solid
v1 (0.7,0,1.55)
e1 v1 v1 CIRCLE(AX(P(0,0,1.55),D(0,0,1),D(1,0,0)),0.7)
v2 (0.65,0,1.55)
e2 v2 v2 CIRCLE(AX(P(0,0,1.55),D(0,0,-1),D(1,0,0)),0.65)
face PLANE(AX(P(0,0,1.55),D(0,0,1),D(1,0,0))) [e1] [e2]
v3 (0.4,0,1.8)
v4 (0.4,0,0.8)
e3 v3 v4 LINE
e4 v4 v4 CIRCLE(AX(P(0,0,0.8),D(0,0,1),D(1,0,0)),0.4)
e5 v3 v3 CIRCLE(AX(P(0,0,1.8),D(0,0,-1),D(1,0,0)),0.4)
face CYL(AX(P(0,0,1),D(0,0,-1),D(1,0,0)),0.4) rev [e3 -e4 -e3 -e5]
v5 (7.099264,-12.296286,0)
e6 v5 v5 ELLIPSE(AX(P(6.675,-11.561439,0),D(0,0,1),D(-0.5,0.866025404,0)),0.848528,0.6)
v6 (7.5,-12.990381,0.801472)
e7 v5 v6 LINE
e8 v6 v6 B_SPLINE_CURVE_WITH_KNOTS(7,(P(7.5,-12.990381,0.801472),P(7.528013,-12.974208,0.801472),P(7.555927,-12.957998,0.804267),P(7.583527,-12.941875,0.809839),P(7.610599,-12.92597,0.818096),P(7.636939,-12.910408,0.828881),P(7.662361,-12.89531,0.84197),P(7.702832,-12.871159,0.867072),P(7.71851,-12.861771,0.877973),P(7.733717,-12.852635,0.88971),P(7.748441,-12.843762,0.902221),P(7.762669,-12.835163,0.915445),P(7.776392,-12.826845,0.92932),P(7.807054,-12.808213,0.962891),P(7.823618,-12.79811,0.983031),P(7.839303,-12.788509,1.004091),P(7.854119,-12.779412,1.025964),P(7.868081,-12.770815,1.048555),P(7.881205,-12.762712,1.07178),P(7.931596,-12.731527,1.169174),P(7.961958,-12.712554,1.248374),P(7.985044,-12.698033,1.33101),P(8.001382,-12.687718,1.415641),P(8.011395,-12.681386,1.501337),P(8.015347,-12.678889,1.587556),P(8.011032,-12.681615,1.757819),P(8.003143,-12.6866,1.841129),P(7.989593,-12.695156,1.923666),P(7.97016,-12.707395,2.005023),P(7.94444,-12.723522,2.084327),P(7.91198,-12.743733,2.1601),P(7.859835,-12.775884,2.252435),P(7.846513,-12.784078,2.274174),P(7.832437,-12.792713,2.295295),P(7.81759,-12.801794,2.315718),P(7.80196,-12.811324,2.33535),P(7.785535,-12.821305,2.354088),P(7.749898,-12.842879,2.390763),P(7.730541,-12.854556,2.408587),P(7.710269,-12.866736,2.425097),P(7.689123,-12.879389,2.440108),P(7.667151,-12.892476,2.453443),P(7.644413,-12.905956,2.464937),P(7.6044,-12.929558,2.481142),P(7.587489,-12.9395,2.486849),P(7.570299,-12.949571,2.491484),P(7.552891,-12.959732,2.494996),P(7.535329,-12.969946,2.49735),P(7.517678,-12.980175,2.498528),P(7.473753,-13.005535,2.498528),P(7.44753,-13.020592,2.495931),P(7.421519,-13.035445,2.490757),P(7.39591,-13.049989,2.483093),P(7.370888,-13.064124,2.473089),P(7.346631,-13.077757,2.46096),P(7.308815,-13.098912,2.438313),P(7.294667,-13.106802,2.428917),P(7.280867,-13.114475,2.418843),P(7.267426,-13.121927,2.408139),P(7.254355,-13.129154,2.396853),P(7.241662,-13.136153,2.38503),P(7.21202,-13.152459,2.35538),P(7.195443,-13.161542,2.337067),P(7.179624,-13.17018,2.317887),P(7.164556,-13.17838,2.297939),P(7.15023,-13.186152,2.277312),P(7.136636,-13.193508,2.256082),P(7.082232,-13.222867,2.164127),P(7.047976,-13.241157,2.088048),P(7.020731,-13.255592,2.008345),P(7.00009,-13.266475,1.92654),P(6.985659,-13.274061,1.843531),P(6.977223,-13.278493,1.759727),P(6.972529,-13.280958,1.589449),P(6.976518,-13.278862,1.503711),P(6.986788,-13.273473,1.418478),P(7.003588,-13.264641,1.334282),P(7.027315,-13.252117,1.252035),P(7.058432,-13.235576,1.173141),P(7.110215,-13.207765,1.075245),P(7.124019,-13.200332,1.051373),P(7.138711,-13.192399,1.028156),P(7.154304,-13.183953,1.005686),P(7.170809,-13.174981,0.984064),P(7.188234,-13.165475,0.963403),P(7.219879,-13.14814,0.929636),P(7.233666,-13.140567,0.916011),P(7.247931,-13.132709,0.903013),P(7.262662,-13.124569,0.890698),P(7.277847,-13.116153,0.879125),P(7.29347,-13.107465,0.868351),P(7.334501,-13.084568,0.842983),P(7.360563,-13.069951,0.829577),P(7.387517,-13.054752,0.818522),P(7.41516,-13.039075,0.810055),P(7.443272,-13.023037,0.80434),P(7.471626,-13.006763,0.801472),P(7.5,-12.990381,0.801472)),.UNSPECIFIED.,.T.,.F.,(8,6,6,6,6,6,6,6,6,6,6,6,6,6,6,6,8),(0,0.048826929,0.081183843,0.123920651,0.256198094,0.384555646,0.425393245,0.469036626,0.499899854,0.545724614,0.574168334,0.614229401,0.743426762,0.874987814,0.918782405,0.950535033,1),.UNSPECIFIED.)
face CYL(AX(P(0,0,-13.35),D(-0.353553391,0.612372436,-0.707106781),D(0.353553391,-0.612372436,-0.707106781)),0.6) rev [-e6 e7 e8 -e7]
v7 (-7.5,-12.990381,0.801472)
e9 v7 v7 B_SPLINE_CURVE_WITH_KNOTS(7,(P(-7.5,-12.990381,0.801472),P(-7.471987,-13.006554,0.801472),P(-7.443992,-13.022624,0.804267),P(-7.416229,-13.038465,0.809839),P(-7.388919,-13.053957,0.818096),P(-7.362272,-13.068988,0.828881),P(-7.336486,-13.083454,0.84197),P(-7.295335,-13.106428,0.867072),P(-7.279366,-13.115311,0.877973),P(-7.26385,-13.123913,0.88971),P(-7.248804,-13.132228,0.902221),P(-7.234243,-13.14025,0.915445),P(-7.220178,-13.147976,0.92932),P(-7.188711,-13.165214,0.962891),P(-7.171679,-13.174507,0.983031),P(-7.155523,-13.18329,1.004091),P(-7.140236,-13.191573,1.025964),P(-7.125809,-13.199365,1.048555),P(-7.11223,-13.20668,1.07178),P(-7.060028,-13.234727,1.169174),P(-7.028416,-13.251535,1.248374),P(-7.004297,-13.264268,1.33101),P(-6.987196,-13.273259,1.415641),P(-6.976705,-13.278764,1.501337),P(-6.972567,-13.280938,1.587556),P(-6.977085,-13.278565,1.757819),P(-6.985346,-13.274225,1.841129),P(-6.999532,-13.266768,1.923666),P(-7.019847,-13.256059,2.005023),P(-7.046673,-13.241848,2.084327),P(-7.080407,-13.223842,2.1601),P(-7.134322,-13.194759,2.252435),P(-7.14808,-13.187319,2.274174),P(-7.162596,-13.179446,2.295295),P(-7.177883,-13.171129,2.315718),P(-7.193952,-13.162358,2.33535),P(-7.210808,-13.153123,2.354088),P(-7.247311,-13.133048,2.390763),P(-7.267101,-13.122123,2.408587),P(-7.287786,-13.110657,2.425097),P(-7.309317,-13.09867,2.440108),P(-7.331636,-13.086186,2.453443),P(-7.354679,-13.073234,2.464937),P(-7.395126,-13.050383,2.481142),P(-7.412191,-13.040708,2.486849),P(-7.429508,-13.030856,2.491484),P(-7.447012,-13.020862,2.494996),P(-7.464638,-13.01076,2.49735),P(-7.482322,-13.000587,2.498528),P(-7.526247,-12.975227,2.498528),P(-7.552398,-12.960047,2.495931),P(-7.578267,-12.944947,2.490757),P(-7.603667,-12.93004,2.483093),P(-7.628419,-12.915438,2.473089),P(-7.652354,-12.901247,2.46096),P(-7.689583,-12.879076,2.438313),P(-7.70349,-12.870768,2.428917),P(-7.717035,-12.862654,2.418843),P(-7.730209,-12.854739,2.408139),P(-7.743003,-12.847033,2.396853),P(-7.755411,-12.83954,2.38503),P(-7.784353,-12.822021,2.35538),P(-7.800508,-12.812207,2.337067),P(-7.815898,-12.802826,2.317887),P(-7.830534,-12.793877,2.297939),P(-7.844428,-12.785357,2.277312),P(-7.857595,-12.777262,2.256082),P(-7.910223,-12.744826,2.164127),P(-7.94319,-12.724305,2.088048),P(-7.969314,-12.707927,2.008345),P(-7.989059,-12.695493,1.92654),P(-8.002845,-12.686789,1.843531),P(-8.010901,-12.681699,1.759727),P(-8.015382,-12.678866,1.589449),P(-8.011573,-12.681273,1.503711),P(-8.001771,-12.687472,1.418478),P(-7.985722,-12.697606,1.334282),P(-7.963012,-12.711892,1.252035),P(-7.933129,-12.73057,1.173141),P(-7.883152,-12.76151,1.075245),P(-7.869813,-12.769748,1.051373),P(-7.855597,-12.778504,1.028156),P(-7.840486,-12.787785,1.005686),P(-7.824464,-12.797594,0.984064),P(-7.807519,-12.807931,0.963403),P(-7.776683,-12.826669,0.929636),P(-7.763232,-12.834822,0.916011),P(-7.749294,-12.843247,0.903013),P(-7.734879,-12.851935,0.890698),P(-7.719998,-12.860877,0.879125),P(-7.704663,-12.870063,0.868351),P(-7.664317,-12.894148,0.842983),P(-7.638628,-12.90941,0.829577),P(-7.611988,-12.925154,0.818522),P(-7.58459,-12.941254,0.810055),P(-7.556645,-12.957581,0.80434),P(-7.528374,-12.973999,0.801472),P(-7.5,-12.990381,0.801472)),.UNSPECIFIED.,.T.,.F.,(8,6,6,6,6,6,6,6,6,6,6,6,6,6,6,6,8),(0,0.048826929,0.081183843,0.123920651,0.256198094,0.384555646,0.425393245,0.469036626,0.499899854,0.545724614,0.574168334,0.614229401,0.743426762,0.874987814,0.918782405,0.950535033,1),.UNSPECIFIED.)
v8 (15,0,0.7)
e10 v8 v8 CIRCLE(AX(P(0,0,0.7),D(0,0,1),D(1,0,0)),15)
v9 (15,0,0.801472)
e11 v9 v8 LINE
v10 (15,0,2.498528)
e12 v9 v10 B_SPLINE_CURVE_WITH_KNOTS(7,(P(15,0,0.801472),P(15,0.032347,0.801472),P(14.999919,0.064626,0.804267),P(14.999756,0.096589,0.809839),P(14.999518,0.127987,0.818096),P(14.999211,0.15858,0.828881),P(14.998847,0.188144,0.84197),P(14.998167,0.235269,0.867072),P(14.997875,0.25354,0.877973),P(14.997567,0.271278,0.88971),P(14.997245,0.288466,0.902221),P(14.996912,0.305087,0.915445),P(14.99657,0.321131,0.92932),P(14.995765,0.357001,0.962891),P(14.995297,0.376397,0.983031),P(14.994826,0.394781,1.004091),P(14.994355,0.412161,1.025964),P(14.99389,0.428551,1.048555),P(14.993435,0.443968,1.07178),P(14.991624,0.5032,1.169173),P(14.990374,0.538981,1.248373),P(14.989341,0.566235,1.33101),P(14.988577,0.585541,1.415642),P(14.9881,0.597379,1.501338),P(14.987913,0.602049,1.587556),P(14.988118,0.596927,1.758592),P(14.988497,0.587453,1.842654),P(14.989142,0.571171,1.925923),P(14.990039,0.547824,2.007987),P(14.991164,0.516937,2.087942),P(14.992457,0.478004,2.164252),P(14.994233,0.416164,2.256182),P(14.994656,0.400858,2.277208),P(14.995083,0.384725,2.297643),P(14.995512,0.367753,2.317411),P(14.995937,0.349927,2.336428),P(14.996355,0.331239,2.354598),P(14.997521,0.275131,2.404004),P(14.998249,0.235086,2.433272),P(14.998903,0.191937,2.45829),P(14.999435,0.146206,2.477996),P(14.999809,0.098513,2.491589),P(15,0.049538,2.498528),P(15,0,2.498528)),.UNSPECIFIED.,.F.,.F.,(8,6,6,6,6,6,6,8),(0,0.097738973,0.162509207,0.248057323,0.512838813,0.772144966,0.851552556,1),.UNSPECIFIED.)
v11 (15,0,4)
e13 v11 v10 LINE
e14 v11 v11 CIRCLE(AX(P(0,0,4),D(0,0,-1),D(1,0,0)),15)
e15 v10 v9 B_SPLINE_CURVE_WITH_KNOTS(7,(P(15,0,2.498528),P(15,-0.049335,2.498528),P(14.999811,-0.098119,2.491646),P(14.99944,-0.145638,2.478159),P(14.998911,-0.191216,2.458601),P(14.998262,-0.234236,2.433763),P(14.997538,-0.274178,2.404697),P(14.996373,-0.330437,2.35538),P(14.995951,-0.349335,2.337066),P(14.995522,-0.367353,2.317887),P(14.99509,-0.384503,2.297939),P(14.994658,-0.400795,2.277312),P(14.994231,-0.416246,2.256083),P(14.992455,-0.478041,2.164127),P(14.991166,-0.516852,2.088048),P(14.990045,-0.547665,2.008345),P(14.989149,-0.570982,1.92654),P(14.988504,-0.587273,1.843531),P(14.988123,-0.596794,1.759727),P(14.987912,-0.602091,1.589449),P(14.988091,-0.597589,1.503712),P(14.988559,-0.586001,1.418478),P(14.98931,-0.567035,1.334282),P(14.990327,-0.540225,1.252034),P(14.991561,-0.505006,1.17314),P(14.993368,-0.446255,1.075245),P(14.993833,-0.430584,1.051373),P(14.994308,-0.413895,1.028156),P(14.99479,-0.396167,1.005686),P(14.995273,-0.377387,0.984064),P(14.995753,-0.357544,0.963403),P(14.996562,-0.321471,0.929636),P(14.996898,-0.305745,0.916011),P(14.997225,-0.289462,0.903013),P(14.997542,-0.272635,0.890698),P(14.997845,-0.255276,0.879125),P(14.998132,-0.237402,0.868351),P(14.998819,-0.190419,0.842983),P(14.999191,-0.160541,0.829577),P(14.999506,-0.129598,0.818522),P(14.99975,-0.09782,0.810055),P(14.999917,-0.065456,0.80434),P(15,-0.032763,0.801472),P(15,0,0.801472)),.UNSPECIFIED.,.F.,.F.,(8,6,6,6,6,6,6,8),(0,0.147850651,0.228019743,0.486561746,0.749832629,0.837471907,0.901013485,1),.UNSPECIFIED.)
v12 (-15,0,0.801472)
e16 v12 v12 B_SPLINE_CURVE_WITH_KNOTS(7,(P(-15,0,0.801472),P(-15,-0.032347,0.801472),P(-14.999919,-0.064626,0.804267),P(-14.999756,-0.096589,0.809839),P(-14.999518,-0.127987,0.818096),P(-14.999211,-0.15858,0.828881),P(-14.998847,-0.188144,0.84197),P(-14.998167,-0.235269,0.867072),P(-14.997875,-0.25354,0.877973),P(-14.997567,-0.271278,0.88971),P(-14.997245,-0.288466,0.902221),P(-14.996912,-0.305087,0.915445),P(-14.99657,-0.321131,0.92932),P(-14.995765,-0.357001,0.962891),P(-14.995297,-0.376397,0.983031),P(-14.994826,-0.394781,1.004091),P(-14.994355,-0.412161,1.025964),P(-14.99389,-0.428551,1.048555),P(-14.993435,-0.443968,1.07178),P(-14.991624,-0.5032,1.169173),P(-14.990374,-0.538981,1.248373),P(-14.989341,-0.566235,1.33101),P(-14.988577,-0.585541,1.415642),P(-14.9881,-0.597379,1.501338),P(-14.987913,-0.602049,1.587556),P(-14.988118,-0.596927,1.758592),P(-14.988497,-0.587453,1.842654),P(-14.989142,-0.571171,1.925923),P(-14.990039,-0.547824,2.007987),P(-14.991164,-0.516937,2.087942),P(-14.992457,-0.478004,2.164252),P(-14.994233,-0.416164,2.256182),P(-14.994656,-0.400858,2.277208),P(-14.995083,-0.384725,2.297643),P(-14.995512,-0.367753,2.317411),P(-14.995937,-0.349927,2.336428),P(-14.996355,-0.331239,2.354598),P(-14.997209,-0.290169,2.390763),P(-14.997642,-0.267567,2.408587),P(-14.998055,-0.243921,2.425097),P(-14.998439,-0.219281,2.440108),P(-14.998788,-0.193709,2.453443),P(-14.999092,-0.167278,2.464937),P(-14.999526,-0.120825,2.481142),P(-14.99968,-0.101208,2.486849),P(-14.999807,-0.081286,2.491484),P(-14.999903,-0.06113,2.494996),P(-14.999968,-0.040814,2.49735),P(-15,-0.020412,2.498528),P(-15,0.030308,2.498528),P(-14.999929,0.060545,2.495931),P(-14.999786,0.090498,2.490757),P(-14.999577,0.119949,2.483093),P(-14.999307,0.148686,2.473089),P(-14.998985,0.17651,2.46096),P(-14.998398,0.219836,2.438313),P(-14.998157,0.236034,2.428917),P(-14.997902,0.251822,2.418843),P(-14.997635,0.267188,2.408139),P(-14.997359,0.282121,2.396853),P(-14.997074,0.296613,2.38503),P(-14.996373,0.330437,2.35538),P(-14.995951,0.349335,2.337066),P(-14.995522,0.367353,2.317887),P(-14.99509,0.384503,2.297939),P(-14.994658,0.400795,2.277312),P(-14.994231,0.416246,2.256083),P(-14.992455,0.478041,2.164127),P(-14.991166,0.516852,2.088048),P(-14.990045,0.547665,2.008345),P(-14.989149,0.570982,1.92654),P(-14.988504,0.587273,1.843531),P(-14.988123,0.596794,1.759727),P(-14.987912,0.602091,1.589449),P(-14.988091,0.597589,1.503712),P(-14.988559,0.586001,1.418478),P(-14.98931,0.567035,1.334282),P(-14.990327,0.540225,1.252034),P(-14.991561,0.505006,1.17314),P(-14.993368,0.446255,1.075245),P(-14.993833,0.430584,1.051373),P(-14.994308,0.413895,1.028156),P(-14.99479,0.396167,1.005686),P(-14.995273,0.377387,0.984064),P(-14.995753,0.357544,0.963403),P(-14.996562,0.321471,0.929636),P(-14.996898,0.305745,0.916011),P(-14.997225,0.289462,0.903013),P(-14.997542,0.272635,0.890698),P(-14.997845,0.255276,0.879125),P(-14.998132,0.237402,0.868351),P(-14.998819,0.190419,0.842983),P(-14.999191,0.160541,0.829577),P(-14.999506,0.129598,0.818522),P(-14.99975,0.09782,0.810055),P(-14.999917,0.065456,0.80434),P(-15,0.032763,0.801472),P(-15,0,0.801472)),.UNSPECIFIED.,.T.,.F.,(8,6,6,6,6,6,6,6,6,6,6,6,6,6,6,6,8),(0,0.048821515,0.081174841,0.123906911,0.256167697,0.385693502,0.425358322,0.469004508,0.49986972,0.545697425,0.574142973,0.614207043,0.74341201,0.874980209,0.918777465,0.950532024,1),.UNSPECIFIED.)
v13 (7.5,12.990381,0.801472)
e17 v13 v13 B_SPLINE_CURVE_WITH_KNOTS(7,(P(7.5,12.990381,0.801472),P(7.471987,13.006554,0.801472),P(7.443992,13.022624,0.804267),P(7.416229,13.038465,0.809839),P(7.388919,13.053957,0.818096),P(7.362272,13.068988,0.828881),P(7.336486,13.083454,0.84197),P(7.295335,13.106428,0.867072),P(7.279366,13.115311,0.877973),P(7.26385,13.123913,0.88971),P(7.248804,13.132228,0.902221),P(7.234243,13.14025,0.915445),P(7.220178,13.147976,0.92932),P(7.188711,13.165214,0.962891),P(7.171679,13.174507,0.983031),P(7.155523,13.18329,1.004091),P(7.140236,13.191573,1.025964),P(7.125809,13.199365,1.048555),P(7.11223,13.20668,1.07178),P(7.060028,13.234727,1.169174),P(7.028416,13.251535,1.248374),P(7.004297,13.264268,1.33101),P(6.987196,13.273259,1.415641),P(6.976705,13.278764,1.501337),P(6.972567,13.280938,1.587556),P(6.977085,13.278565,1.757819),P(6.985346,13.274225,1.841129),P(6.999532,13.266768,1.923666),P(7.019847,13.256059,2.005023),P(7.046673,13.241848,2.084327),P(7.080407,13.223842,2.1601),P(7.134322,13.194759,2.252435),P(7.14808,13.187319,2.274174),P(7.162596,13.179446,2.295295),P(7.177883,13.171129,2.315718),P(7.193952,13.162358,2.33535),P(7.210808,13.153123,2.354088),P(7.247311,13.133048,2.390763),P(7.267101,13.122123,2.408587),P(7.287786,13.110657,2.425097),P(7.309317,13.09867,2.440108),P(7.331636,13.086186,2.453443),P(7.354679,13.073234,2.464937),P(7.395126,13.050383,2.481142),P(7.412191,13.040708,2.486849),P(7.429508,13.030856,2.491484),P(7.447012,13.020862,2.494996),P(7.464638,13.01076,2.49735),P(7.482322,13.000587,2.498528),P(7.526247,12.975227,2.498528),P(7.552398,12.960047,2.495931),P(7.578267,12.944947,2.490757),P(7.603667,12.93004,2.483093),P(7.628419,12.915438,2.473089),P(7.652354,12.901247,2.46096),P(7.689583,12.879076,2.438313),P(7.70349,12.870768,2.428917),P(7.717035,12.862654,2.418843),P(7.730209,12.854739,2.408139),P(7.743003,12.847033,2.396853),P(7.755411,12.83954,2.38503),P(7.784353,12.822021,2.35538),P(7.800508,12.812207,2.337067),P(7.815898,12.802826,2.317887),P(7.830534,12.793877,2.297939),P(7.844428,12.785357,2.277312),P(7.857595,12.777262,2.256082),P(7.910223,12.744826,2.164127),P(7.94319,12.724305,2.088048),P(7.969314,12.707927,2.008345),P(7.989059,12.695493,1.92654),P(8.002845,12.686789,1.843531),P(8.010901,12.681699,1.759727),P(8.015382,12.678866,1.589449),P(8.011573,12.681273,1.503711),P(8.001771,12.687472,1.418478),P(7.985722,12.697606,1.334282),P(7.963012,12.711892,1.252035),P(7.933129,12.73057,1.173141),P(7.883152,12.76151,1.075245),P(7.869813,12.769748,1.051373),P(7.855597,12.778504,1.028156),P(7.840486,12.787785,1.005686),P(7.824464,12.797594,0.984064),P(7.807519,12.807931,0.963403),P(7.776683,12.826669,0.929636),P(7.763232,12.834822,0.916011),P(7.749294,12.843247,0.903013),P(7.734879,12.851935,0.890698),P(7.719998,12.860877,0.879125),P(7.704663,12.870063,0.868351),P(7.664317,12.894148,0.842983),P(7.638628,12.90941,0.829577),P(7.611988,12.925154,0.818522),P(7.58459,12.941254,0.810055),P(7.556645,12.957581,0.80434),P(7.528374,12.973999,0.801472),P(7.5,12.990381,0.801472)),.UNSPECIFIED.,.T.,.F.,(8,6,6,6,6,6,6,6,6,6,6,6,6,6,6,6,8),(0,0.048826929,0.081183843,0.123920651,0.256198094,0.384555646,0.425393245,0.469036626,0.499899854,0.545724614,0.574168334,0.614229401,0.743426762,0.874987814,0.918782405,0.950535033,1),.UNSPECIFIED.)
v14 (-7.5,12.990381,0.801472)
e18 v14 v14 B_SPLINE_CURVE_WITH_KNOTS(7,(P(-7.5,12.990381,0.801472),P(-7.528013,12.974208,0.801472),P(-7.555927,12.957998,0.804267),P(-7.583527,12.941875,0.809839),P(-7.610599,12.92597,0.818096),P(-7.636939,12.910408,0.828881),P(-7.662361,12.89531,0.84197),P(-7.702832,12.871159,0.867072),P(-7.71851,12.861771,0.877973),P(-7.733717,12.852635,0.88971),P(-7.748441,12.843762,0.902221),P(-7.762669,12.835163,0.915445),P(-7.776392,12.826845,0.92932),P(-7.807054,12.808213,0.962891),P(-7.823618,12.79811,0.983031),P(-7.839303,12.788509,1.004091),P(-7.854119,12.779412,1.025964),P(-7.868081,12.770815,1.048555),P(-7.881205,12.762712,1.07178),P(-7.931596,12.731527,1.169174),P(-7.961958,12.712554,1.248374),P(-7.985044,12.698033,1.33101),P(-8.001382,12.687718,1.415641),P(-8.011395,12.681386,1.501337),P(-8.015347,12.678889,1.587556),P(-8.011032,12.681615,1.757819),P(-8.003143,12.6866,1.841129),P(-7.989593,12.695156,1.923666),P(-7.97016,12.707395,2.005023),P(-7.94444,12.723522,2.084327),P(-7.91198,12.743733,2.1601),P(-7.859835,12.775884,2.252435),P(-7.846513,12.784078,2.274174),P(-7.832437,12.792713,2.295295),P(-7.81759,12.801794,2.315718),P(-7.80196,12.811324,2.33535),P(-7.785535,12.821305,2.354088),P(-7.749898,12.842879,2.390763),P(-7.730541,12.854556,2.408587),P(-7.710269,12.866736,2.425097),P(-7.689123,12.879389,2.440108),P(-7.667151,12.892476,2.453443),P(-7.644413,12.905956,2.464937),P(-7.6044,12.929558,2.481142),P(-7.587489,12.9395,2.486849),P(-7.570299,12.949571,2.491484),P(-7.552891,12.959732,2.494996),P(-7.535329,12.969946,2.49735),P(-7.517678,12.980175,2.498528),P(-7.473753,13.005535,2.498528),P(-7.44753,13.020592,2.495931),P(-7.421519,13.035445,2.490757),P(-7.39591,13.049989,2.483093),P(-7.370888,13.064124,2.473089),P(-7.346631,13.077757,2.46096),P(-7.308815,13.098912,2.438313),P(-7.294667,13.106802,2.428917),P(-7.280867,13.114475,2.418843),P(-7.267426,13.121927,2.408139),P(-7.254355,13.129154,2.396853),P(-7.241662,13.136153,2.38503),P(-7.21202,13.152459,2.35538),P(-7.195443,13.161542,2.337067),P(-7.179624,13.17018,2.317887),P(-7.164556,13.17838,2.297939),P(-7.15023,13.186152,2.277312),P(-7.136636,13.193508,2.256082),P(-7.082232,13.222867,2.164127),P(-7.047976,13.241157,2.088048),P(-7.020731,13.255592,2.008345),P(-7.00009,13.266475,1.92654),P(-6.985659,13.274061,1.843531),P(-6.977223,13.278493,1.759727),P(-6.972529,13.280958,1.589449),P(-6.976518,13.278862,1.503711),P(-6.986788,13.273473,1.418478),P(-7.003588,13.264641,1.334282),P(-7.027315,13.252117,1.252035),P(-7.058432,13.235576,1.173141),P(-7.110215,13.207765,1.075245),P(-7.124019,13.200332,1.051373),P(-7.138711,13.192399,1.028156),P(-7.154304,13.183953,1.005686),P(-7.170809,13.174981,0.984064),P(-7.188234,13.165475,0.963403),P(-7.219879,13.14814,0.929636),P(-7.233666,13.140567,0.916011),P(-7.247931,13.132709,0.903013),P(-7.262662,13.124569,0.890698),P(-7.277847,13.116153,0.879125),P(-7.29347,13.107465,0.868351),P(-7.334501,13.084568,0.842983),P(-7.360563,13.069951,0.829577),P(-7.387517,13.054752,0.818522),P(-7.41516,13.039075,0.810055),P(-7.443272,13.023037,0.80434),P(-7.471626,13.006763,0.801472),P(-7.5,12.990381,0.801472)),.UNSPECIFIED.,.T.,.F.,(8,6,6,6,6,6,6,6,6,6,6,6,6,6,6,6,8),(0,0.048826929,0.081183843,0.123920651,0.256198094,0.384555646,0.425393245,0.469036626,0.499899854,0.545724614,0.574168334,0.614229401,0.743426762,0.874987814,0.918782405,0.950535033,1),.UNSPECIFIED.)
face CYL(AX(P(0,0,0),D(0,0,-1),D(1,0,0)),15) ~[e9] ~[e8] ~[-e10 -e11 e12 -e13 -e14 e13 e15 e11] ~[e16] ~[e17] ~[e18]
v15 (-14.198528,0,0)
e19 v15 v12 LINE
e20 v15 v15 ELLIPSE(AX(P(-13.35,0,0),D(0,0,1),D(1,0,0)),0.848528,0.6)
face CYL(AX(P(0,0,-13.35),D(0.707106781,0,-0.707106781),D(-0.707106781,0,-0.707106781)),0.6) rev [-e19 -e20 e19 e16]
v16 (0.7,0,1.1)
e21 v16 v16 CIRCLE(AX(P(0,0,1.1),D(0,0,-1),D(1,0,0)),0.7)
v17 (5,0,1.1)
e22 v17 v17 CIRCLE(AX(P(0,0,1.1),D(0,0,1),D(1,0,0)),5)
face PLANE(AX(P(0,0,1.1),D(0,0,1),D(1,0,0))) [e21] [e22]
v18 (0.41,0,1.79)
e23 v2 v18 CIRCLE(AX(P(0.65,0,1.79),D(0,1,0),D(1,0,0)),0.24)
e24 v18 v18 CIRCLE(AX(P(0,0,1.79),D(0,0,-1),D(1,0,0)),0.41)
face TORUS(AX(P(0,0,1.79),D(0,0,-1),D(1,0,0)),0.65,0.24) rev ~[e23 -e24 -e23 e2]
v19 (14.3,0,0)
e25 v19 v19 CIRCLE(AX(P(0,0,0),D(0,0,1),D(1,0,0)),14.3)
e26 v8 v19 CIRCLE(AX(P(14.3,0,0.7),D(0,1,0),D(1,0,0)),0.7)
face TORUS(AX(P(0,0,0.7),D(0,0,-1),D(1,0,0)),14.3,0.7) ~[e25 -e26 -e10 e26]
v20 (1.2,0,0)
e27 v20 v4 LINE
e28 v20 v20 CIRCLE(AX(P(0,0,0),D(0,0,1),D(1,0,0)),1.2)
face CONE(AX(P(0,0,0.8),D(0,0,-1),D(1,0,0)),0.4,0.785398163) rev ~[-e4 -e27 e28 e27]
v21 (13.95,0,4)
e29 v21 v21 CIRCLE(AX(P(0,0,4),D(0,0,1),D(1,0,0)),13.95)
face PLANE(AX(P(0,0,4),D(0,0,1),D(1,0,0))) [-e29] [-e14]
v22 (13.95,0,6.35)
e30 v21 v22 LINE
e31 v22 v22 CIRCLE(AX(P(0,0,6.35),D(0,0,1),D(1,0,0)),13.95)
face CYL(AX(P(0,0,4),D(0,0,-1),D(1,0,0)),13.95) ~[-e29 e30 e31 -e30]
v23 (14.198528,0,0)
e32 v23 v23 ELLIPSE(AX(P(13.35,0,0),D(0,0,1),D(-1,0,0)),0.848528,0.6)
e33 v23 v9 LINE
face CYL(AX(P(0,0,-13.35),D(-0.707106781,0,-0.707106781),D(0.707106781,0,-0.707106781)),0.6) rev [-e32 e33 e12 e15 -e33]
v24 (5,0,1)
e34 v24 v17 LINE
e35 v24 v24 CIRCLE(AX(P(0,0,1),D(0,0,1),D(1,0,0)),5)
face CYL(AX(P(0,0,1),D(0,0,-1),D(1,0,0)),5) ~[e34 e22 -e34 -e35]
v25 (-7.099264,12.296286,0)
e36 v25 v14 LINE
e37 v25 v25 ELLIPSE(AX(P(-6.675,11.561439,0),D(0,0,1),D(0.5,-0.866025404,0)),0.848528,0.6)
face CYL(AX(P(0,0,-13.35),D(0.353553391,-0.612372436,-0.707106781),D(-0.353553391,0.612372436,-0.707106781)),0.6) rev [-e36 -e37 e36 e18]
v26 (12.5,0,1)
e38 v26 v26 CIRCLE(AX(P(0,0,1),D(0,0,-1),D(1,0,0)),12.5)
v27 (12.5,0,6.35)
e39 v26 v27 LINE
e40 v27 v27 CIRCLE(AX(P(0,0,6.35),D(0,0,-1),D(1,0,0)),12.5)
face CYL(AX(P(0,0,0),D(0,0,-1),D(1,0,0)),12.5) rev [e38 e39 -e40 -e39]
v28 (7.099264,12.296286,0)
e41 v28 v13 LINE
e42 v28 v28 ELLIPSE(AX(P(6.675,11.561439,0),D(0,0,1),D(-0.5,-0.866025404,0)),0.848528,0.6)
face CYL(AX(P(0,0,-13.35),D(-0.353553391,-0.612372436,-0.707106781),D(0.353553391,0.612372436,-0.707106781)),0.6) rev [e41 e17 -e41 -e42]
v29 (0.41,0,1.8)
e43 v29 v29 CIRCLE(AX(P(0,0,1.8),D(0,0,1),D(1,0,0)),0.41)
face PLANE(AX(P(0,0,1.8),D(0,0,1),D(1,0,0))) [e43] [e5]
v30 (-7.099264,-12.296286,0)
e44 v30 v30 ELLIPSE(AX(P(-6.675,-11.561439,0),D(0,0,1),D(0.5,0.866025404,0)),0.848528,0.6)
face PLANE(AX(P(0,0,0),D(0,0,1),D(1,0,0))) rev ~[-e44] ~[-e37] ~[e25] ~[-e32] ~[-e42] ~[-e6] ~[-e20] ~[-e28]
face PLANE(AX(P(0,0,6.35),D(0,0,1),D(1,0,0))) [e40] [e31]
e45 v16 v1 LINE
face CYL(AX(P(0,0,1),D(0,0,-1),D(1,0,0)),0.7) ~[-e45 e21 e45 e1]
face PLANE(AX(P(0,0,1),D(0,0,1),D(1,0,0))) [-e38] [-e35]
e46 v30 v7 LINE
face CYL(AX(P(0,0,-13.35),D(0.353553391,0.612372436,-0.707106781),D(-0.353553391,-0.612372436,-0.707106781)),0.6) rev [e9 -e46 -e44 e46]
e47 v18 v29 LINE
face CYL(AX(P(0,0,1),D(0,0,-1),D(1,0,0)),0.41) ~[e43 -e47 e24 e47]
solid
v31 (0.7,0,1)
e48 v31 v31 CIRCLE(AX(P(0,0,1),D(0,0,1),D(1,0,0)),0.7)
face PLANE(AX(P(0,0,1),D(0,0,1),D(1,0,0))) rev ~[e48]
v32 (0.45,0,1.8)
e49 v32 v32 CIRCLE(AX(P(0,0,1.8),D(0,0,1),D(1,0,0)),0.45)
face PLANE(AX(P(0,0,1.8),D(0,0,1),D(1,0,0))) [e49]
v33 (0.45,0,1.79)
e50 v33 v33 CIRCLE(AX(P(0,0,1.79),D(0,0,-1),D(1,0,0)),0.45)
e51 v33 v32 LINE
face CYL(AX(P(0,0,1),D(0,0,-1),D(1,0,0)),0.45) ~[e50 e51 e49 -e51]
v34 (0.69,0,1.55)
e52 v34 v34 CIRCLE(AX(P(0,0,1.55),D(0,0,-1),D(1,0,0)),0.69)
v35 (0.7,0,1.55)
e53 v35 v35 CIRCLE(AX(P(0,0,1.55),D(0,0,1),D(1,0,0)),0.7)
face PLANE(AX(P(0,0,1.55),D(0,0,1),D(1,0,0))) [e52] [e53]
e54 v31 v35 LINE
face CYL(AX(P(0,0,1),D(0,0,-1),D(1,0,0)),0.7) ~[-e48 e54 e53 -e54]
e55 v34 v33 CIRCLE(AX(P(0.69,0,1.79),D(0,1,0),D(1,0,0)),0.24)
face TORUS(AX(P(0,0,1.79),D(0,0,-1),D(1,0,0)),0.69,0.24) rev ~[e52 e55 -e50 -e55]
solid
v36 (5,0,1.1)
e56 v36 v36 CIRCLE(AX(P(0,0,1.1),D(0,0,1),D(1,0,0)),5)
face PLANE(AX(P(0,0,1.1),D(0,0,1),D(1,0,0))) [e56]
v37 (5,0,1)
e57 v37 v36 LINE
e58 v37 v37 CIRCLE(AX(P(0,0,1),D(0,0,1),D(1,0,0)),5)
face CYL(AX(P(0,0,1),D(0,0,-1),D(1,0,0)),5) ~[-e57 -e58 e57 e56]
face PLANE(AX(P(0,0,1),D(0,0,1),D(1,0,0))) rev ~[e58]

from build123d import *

# Parameters (mm, degrees)
CYLINDER012_R               = 0.45
CYLINDER012_DEPTH           = 0.8
CYLINDER003_R               = 0.7
CYLINDER003_DEPTH           = 0.55
FILLET003_R                 = 0.24
CYLINDER013_R               = 5
CYLINDER013_DEPTH           = 0.1
CYLINDER018_R               = 0.6
CYLINDER018_DEPTH           = 30
CYLINDER018_PLACEMENT_ANGLE = 45
ARRAY_COUNT                 = 6
CYLINDER010_R               = 12.5
CYLINDER010_DEPTH           = 10
CYLINDER011_R               = 13.95
CYLINDER011_DEPTH           = 2.35
CYLINDER009_R               = 14
CYLINDER009_DEPTH           = 3
CYLINDER004_R               = 0.4
CYLINDER004_DEPTH           = 2
CYLINDER016_R               = 0.4
CYLINDER016_DEPTH           = 2
CYLINDER014_R               = 0.41
CYLINDER014_DEPTH           = 0.8
CYLINDER015_R               = 0.7
CYLINDER015_DEPTH           = 0.55
FILLET004_R                 = 0.24
CYLINDER017_R               = 5
CYLINDER017_DEPTH           = 0.1
CYLINDER008_R               = 16
CYLINDER008_DEPTH           = 10
CYLINDER007_R               = 14
CYLINDER007_DEPTH           = 7
CYLINDER006_R               = 14
CYLINDER006_DEPTH           = 1
CYLINDER005_R               = 0.4
CYLINDER005_DEPTH           = 1
CYLINDER001_R               = 12.6
CYLINDER001_DEPTH           = 8
CYLINDER_R                  = 15
CYLINDER_DEPTH              = 8
CYLINDER002_R               = 15
CYLINDER002_DEPTH           = 1
FILLET_R                    = 0.7
FILLET001_R                 = 0.7
CHAMFER_SIZE                = 0.8


with BuildPart() as cylinder012:
    # Cylinder012 → Cylinder012 (new body)
    with BuildSketch(Plane.XY.offset(1)):
        Circle(CYLINDER012_R)
    extrude(amount=CYLINDER012_DEPTH)


with BuildPart() as fillet003:
    # Cylinder003 → Cylinder003 (new body)
    with BuildSketch(Plane.XY.offset(1)):
        Circle(CYLINDER003_R)
    extrude(amount=CYLINDER003_DEPTH)

    # Fusion003: union Cylinder012
    add(cylinder012.part)

    # Fillet003
    fillet003_edges = [fillet003.edges().sort_by_distance(p)[0] for p in [
        (-0.45, 0, 1.55),
    ]]
    fillet(fillet003_edges, radius=FILLET003_R)


with BuildPart() as cylinder013:
    # Cylinder013 → Cylinder013 (new body)
    with BuildSketch(Plane.XY.offset(1)):
        Circle(CYLINDER013_R)
    extrude(amount=CYLINDER013_DEPTH)


with BuildPart() as array:
    # Cylinder018 → Cylinder018 (new body)
    with BuildSketch(Plane.XY):
        Circle(CYLINDER018_R)
    extrude(amount=CYLINDER018_DEPTH)


with BuildPart() as array_1:
    # Cylinder018 placement: moved
    add(array.part.moved(Location((0, 0, -4.5))).rotate(Axis((0, 0, -4.5), (0, 1, 0)), CYLINDER018_PLACEMENT_ANGLE))

    # Array: Array ×6 about axis
    array_axis = Axis((0, 0, 0), (0, 0, 1))


with BuildPart() as array_2:
    add(array_1.part)
    for i in range(1, ARRAY_COUNT):
        add(array_1.part.rotate(array_axis, i * 360 / ARRAY_COUNT))


with BuildPart() as array_3:
    # Array placement: moved
    add(array_2.part.moved(Location((0, 0, -8.85))))


with BuildPart() as cylinder010:
    # Cylinder010 → Cylinder010 (new body)
    with BuildSketch(Plane.XY):
        Circle(CYLINDER010_R)
    extrude(amount=CYLINDER010_DEPTH)


with BuildPart() as cylinder011:
    # Cylinder011 → Cylinder011 (new body)
    with BuildSketch(Plane.XY.offset(4)):
        Circle(CYLINDER011_R)
    extrude(amount=CYLINDER011_DEPTH)


with BuildPart() as cut006:
    # Cylinder009 → Cylinder009 (new body)
    with BuildSketch(Plane.XY.offset(1)):
        Circle(CYLINDER009_R)
    extrude(amount=CYLINDER009_DEPTH)

    # Fusion002: union Cylinder011
    add(cylinder011.part)

    # Cut006: cut Cylinder010
    add(cylinder010.part, mode=Mode.SUBTRACT)


with BuildPart() as cylinder004:
    # Cylinder004 → Cylinder004 (new body)
    with BuildSketch(Plane.XY.offset(1)):
        Circle(CYLINDER004_R)
    extrude(amount=CYLINDER004_DEPTH)


with BuildPart() as cylinder016:
    # Cylinder016 → Cylinder016 (new body)
    with BuildSketch(Plane.XY.offset(1)):
        Circle(CYLINDER016_R)
    extrude(amount=CYLINDER016_DEPTH)


with BuildPart() as cylinder014:
    # Cylinder014 → Cylinder014 (new body)
    with BuildSketch(Plane.XY.offset(1)):
        Circle(CYLINDER014_R)
    extrude(amount=CYLINDER014_DEPTH)


with BuildPart() as fillet004:
    # Cylinder015 → Cylinder015 (new body)
    with BuildSketch(Plane.XY.offset(1)):
        Circle(CYLINDER015_R)
    extrude(amount=CYLINDER015_DEPTH)

    # Fusion001: union Cylinder014
    add(cylinder014.part)

    # Fillet004
    fillet004_edges = [fillet004.edges().sort_by_distance(p)[0] for p in [
        (-0.41, 0, 1.55),
    ]]
    fillet(fillet004_edges, radius=FILLET004_R)


with BuildPart() as cut010:
    # Cylinder017 → Cylinder017 (new body)
    with BuildSketch(Plane.XY.offset(1)):
        Circle(CYLINDER017_R)
    extrude(amount=CYLINDER017_DEPTH)

    # Fusion004: union Fillet004
    add(fillet004.part)

    # Cut009: cut Cylinder016
    add(cylinder016.part, mode=Mode.SUBTRACT)

    # Cut010: cut Cylinder004
    add(cylinder004.part, mode=Mode.SUBTRACT)


with BuildPart() as cylinder008:
    # Cylinder008 → Cylinder008 (new body)
    with BuildSketch(Plane.XY.offset(4)):
        Circle(CYLINDER008_R)
    extrude(amount=CYLINDER008_DEPTH)


with BuildPart() as cylinder007:
    # Cylinder007 → Cylinder007 (new body)
    with BuildSketch(Plane.XY.offset(1)):
        Circle(CYLINDER007_R)
    extrude(amount=CYLINDER007_DEPTH)


with BuildPart() as cylinder006:
    # Cylinder006 → Cylinder006 (new body)
    with BuildSketch(Plane.XY.offset(7)):
        Circle(CYLINDER006_R)
    extrude(amount=CYLINDER006_DEPTH)


with BuildPart() as cylinder005:
    # Cylinder005 → Cylinder005 (new body)
    with BuildSketch(Plane.XY):
        Circle(CYLINDER005_R)
    extrude(amount=CYLINDER005_DEPTH)


with BuildPart() as cylinder001:
    # Cylinder001 → Cylinder001 (new body)
    with BuildSketch(Plane.XY):
        Circle(CYLINDER001_R)
    extrude(amount=CYLINDER001_DEPTH)


with BuildPart() as cut:
    # Cylinder → Cylinder (new body)
    with BuildSketch(Plane.XY):
        Circle(CYLINDER_R)
    extrude(amount=CYLINDER_DEPTH)

    # Cut: cut Cylinder001
    add(cylinder001.part, mode=Mode.SUBTRACT)


with BuildPart() as cut013:
    # Cylinder002 → Cylinder002 (new body)
    with BuildSketch(Plane.XY):
        Circle(CYLINDER002_R)
    extrude(amount=CYLINDER002_DEPTH)

    # Fusion: union Cut
    add(cut.part)

    # Cut001: cut Cylinder005
    add(cylinder005.part, mode=Mode.SUBTRACT)

    # Cut003: cut Cylinder006
    add(cylinder006.part, mode=Mode.SUBTRACT)

    # Fillet
    fillet_edges = [cut013.edges().sort_by_distance(p)[0] for p in [
        (-15, 0, 8),
    ]]
    fillet(fillet_edges, radius=FILLET_R)

    # Fillet001
    fillet001_edges = [cut013.edges().sort_by_distance(p)[0] for p in [
        (-15, 0, 0),
    ]]
    fillet(fillet001_edges, radius=FILLET001_R)

    # Chamfer
    chamfer_edges = [cut013.edges().sort_by_distance(p)[0] for p in [
        (-0.4, 0, 0),
    ]]
    chamfer(chamfer_edges, length=CHAMFER_SIZE)

    # Cut011: cut Cylinder007
    add(cylinder007.part, mode=Mode.SUBTRACT)

    # Cut012: cut Cylinder008
    add(cylinder008.part, mode=Mode.SUBTRACT)

    # Fusion005: union Cut006, Cut010
    add(cut006.part)
    add(cut010.part)

    # Cut013: cut Array
    add(array_3.part, mode=Mode.SUBTRACT)


solid = Compound([fillet003.part, cylinder013.part, cut013.part])
